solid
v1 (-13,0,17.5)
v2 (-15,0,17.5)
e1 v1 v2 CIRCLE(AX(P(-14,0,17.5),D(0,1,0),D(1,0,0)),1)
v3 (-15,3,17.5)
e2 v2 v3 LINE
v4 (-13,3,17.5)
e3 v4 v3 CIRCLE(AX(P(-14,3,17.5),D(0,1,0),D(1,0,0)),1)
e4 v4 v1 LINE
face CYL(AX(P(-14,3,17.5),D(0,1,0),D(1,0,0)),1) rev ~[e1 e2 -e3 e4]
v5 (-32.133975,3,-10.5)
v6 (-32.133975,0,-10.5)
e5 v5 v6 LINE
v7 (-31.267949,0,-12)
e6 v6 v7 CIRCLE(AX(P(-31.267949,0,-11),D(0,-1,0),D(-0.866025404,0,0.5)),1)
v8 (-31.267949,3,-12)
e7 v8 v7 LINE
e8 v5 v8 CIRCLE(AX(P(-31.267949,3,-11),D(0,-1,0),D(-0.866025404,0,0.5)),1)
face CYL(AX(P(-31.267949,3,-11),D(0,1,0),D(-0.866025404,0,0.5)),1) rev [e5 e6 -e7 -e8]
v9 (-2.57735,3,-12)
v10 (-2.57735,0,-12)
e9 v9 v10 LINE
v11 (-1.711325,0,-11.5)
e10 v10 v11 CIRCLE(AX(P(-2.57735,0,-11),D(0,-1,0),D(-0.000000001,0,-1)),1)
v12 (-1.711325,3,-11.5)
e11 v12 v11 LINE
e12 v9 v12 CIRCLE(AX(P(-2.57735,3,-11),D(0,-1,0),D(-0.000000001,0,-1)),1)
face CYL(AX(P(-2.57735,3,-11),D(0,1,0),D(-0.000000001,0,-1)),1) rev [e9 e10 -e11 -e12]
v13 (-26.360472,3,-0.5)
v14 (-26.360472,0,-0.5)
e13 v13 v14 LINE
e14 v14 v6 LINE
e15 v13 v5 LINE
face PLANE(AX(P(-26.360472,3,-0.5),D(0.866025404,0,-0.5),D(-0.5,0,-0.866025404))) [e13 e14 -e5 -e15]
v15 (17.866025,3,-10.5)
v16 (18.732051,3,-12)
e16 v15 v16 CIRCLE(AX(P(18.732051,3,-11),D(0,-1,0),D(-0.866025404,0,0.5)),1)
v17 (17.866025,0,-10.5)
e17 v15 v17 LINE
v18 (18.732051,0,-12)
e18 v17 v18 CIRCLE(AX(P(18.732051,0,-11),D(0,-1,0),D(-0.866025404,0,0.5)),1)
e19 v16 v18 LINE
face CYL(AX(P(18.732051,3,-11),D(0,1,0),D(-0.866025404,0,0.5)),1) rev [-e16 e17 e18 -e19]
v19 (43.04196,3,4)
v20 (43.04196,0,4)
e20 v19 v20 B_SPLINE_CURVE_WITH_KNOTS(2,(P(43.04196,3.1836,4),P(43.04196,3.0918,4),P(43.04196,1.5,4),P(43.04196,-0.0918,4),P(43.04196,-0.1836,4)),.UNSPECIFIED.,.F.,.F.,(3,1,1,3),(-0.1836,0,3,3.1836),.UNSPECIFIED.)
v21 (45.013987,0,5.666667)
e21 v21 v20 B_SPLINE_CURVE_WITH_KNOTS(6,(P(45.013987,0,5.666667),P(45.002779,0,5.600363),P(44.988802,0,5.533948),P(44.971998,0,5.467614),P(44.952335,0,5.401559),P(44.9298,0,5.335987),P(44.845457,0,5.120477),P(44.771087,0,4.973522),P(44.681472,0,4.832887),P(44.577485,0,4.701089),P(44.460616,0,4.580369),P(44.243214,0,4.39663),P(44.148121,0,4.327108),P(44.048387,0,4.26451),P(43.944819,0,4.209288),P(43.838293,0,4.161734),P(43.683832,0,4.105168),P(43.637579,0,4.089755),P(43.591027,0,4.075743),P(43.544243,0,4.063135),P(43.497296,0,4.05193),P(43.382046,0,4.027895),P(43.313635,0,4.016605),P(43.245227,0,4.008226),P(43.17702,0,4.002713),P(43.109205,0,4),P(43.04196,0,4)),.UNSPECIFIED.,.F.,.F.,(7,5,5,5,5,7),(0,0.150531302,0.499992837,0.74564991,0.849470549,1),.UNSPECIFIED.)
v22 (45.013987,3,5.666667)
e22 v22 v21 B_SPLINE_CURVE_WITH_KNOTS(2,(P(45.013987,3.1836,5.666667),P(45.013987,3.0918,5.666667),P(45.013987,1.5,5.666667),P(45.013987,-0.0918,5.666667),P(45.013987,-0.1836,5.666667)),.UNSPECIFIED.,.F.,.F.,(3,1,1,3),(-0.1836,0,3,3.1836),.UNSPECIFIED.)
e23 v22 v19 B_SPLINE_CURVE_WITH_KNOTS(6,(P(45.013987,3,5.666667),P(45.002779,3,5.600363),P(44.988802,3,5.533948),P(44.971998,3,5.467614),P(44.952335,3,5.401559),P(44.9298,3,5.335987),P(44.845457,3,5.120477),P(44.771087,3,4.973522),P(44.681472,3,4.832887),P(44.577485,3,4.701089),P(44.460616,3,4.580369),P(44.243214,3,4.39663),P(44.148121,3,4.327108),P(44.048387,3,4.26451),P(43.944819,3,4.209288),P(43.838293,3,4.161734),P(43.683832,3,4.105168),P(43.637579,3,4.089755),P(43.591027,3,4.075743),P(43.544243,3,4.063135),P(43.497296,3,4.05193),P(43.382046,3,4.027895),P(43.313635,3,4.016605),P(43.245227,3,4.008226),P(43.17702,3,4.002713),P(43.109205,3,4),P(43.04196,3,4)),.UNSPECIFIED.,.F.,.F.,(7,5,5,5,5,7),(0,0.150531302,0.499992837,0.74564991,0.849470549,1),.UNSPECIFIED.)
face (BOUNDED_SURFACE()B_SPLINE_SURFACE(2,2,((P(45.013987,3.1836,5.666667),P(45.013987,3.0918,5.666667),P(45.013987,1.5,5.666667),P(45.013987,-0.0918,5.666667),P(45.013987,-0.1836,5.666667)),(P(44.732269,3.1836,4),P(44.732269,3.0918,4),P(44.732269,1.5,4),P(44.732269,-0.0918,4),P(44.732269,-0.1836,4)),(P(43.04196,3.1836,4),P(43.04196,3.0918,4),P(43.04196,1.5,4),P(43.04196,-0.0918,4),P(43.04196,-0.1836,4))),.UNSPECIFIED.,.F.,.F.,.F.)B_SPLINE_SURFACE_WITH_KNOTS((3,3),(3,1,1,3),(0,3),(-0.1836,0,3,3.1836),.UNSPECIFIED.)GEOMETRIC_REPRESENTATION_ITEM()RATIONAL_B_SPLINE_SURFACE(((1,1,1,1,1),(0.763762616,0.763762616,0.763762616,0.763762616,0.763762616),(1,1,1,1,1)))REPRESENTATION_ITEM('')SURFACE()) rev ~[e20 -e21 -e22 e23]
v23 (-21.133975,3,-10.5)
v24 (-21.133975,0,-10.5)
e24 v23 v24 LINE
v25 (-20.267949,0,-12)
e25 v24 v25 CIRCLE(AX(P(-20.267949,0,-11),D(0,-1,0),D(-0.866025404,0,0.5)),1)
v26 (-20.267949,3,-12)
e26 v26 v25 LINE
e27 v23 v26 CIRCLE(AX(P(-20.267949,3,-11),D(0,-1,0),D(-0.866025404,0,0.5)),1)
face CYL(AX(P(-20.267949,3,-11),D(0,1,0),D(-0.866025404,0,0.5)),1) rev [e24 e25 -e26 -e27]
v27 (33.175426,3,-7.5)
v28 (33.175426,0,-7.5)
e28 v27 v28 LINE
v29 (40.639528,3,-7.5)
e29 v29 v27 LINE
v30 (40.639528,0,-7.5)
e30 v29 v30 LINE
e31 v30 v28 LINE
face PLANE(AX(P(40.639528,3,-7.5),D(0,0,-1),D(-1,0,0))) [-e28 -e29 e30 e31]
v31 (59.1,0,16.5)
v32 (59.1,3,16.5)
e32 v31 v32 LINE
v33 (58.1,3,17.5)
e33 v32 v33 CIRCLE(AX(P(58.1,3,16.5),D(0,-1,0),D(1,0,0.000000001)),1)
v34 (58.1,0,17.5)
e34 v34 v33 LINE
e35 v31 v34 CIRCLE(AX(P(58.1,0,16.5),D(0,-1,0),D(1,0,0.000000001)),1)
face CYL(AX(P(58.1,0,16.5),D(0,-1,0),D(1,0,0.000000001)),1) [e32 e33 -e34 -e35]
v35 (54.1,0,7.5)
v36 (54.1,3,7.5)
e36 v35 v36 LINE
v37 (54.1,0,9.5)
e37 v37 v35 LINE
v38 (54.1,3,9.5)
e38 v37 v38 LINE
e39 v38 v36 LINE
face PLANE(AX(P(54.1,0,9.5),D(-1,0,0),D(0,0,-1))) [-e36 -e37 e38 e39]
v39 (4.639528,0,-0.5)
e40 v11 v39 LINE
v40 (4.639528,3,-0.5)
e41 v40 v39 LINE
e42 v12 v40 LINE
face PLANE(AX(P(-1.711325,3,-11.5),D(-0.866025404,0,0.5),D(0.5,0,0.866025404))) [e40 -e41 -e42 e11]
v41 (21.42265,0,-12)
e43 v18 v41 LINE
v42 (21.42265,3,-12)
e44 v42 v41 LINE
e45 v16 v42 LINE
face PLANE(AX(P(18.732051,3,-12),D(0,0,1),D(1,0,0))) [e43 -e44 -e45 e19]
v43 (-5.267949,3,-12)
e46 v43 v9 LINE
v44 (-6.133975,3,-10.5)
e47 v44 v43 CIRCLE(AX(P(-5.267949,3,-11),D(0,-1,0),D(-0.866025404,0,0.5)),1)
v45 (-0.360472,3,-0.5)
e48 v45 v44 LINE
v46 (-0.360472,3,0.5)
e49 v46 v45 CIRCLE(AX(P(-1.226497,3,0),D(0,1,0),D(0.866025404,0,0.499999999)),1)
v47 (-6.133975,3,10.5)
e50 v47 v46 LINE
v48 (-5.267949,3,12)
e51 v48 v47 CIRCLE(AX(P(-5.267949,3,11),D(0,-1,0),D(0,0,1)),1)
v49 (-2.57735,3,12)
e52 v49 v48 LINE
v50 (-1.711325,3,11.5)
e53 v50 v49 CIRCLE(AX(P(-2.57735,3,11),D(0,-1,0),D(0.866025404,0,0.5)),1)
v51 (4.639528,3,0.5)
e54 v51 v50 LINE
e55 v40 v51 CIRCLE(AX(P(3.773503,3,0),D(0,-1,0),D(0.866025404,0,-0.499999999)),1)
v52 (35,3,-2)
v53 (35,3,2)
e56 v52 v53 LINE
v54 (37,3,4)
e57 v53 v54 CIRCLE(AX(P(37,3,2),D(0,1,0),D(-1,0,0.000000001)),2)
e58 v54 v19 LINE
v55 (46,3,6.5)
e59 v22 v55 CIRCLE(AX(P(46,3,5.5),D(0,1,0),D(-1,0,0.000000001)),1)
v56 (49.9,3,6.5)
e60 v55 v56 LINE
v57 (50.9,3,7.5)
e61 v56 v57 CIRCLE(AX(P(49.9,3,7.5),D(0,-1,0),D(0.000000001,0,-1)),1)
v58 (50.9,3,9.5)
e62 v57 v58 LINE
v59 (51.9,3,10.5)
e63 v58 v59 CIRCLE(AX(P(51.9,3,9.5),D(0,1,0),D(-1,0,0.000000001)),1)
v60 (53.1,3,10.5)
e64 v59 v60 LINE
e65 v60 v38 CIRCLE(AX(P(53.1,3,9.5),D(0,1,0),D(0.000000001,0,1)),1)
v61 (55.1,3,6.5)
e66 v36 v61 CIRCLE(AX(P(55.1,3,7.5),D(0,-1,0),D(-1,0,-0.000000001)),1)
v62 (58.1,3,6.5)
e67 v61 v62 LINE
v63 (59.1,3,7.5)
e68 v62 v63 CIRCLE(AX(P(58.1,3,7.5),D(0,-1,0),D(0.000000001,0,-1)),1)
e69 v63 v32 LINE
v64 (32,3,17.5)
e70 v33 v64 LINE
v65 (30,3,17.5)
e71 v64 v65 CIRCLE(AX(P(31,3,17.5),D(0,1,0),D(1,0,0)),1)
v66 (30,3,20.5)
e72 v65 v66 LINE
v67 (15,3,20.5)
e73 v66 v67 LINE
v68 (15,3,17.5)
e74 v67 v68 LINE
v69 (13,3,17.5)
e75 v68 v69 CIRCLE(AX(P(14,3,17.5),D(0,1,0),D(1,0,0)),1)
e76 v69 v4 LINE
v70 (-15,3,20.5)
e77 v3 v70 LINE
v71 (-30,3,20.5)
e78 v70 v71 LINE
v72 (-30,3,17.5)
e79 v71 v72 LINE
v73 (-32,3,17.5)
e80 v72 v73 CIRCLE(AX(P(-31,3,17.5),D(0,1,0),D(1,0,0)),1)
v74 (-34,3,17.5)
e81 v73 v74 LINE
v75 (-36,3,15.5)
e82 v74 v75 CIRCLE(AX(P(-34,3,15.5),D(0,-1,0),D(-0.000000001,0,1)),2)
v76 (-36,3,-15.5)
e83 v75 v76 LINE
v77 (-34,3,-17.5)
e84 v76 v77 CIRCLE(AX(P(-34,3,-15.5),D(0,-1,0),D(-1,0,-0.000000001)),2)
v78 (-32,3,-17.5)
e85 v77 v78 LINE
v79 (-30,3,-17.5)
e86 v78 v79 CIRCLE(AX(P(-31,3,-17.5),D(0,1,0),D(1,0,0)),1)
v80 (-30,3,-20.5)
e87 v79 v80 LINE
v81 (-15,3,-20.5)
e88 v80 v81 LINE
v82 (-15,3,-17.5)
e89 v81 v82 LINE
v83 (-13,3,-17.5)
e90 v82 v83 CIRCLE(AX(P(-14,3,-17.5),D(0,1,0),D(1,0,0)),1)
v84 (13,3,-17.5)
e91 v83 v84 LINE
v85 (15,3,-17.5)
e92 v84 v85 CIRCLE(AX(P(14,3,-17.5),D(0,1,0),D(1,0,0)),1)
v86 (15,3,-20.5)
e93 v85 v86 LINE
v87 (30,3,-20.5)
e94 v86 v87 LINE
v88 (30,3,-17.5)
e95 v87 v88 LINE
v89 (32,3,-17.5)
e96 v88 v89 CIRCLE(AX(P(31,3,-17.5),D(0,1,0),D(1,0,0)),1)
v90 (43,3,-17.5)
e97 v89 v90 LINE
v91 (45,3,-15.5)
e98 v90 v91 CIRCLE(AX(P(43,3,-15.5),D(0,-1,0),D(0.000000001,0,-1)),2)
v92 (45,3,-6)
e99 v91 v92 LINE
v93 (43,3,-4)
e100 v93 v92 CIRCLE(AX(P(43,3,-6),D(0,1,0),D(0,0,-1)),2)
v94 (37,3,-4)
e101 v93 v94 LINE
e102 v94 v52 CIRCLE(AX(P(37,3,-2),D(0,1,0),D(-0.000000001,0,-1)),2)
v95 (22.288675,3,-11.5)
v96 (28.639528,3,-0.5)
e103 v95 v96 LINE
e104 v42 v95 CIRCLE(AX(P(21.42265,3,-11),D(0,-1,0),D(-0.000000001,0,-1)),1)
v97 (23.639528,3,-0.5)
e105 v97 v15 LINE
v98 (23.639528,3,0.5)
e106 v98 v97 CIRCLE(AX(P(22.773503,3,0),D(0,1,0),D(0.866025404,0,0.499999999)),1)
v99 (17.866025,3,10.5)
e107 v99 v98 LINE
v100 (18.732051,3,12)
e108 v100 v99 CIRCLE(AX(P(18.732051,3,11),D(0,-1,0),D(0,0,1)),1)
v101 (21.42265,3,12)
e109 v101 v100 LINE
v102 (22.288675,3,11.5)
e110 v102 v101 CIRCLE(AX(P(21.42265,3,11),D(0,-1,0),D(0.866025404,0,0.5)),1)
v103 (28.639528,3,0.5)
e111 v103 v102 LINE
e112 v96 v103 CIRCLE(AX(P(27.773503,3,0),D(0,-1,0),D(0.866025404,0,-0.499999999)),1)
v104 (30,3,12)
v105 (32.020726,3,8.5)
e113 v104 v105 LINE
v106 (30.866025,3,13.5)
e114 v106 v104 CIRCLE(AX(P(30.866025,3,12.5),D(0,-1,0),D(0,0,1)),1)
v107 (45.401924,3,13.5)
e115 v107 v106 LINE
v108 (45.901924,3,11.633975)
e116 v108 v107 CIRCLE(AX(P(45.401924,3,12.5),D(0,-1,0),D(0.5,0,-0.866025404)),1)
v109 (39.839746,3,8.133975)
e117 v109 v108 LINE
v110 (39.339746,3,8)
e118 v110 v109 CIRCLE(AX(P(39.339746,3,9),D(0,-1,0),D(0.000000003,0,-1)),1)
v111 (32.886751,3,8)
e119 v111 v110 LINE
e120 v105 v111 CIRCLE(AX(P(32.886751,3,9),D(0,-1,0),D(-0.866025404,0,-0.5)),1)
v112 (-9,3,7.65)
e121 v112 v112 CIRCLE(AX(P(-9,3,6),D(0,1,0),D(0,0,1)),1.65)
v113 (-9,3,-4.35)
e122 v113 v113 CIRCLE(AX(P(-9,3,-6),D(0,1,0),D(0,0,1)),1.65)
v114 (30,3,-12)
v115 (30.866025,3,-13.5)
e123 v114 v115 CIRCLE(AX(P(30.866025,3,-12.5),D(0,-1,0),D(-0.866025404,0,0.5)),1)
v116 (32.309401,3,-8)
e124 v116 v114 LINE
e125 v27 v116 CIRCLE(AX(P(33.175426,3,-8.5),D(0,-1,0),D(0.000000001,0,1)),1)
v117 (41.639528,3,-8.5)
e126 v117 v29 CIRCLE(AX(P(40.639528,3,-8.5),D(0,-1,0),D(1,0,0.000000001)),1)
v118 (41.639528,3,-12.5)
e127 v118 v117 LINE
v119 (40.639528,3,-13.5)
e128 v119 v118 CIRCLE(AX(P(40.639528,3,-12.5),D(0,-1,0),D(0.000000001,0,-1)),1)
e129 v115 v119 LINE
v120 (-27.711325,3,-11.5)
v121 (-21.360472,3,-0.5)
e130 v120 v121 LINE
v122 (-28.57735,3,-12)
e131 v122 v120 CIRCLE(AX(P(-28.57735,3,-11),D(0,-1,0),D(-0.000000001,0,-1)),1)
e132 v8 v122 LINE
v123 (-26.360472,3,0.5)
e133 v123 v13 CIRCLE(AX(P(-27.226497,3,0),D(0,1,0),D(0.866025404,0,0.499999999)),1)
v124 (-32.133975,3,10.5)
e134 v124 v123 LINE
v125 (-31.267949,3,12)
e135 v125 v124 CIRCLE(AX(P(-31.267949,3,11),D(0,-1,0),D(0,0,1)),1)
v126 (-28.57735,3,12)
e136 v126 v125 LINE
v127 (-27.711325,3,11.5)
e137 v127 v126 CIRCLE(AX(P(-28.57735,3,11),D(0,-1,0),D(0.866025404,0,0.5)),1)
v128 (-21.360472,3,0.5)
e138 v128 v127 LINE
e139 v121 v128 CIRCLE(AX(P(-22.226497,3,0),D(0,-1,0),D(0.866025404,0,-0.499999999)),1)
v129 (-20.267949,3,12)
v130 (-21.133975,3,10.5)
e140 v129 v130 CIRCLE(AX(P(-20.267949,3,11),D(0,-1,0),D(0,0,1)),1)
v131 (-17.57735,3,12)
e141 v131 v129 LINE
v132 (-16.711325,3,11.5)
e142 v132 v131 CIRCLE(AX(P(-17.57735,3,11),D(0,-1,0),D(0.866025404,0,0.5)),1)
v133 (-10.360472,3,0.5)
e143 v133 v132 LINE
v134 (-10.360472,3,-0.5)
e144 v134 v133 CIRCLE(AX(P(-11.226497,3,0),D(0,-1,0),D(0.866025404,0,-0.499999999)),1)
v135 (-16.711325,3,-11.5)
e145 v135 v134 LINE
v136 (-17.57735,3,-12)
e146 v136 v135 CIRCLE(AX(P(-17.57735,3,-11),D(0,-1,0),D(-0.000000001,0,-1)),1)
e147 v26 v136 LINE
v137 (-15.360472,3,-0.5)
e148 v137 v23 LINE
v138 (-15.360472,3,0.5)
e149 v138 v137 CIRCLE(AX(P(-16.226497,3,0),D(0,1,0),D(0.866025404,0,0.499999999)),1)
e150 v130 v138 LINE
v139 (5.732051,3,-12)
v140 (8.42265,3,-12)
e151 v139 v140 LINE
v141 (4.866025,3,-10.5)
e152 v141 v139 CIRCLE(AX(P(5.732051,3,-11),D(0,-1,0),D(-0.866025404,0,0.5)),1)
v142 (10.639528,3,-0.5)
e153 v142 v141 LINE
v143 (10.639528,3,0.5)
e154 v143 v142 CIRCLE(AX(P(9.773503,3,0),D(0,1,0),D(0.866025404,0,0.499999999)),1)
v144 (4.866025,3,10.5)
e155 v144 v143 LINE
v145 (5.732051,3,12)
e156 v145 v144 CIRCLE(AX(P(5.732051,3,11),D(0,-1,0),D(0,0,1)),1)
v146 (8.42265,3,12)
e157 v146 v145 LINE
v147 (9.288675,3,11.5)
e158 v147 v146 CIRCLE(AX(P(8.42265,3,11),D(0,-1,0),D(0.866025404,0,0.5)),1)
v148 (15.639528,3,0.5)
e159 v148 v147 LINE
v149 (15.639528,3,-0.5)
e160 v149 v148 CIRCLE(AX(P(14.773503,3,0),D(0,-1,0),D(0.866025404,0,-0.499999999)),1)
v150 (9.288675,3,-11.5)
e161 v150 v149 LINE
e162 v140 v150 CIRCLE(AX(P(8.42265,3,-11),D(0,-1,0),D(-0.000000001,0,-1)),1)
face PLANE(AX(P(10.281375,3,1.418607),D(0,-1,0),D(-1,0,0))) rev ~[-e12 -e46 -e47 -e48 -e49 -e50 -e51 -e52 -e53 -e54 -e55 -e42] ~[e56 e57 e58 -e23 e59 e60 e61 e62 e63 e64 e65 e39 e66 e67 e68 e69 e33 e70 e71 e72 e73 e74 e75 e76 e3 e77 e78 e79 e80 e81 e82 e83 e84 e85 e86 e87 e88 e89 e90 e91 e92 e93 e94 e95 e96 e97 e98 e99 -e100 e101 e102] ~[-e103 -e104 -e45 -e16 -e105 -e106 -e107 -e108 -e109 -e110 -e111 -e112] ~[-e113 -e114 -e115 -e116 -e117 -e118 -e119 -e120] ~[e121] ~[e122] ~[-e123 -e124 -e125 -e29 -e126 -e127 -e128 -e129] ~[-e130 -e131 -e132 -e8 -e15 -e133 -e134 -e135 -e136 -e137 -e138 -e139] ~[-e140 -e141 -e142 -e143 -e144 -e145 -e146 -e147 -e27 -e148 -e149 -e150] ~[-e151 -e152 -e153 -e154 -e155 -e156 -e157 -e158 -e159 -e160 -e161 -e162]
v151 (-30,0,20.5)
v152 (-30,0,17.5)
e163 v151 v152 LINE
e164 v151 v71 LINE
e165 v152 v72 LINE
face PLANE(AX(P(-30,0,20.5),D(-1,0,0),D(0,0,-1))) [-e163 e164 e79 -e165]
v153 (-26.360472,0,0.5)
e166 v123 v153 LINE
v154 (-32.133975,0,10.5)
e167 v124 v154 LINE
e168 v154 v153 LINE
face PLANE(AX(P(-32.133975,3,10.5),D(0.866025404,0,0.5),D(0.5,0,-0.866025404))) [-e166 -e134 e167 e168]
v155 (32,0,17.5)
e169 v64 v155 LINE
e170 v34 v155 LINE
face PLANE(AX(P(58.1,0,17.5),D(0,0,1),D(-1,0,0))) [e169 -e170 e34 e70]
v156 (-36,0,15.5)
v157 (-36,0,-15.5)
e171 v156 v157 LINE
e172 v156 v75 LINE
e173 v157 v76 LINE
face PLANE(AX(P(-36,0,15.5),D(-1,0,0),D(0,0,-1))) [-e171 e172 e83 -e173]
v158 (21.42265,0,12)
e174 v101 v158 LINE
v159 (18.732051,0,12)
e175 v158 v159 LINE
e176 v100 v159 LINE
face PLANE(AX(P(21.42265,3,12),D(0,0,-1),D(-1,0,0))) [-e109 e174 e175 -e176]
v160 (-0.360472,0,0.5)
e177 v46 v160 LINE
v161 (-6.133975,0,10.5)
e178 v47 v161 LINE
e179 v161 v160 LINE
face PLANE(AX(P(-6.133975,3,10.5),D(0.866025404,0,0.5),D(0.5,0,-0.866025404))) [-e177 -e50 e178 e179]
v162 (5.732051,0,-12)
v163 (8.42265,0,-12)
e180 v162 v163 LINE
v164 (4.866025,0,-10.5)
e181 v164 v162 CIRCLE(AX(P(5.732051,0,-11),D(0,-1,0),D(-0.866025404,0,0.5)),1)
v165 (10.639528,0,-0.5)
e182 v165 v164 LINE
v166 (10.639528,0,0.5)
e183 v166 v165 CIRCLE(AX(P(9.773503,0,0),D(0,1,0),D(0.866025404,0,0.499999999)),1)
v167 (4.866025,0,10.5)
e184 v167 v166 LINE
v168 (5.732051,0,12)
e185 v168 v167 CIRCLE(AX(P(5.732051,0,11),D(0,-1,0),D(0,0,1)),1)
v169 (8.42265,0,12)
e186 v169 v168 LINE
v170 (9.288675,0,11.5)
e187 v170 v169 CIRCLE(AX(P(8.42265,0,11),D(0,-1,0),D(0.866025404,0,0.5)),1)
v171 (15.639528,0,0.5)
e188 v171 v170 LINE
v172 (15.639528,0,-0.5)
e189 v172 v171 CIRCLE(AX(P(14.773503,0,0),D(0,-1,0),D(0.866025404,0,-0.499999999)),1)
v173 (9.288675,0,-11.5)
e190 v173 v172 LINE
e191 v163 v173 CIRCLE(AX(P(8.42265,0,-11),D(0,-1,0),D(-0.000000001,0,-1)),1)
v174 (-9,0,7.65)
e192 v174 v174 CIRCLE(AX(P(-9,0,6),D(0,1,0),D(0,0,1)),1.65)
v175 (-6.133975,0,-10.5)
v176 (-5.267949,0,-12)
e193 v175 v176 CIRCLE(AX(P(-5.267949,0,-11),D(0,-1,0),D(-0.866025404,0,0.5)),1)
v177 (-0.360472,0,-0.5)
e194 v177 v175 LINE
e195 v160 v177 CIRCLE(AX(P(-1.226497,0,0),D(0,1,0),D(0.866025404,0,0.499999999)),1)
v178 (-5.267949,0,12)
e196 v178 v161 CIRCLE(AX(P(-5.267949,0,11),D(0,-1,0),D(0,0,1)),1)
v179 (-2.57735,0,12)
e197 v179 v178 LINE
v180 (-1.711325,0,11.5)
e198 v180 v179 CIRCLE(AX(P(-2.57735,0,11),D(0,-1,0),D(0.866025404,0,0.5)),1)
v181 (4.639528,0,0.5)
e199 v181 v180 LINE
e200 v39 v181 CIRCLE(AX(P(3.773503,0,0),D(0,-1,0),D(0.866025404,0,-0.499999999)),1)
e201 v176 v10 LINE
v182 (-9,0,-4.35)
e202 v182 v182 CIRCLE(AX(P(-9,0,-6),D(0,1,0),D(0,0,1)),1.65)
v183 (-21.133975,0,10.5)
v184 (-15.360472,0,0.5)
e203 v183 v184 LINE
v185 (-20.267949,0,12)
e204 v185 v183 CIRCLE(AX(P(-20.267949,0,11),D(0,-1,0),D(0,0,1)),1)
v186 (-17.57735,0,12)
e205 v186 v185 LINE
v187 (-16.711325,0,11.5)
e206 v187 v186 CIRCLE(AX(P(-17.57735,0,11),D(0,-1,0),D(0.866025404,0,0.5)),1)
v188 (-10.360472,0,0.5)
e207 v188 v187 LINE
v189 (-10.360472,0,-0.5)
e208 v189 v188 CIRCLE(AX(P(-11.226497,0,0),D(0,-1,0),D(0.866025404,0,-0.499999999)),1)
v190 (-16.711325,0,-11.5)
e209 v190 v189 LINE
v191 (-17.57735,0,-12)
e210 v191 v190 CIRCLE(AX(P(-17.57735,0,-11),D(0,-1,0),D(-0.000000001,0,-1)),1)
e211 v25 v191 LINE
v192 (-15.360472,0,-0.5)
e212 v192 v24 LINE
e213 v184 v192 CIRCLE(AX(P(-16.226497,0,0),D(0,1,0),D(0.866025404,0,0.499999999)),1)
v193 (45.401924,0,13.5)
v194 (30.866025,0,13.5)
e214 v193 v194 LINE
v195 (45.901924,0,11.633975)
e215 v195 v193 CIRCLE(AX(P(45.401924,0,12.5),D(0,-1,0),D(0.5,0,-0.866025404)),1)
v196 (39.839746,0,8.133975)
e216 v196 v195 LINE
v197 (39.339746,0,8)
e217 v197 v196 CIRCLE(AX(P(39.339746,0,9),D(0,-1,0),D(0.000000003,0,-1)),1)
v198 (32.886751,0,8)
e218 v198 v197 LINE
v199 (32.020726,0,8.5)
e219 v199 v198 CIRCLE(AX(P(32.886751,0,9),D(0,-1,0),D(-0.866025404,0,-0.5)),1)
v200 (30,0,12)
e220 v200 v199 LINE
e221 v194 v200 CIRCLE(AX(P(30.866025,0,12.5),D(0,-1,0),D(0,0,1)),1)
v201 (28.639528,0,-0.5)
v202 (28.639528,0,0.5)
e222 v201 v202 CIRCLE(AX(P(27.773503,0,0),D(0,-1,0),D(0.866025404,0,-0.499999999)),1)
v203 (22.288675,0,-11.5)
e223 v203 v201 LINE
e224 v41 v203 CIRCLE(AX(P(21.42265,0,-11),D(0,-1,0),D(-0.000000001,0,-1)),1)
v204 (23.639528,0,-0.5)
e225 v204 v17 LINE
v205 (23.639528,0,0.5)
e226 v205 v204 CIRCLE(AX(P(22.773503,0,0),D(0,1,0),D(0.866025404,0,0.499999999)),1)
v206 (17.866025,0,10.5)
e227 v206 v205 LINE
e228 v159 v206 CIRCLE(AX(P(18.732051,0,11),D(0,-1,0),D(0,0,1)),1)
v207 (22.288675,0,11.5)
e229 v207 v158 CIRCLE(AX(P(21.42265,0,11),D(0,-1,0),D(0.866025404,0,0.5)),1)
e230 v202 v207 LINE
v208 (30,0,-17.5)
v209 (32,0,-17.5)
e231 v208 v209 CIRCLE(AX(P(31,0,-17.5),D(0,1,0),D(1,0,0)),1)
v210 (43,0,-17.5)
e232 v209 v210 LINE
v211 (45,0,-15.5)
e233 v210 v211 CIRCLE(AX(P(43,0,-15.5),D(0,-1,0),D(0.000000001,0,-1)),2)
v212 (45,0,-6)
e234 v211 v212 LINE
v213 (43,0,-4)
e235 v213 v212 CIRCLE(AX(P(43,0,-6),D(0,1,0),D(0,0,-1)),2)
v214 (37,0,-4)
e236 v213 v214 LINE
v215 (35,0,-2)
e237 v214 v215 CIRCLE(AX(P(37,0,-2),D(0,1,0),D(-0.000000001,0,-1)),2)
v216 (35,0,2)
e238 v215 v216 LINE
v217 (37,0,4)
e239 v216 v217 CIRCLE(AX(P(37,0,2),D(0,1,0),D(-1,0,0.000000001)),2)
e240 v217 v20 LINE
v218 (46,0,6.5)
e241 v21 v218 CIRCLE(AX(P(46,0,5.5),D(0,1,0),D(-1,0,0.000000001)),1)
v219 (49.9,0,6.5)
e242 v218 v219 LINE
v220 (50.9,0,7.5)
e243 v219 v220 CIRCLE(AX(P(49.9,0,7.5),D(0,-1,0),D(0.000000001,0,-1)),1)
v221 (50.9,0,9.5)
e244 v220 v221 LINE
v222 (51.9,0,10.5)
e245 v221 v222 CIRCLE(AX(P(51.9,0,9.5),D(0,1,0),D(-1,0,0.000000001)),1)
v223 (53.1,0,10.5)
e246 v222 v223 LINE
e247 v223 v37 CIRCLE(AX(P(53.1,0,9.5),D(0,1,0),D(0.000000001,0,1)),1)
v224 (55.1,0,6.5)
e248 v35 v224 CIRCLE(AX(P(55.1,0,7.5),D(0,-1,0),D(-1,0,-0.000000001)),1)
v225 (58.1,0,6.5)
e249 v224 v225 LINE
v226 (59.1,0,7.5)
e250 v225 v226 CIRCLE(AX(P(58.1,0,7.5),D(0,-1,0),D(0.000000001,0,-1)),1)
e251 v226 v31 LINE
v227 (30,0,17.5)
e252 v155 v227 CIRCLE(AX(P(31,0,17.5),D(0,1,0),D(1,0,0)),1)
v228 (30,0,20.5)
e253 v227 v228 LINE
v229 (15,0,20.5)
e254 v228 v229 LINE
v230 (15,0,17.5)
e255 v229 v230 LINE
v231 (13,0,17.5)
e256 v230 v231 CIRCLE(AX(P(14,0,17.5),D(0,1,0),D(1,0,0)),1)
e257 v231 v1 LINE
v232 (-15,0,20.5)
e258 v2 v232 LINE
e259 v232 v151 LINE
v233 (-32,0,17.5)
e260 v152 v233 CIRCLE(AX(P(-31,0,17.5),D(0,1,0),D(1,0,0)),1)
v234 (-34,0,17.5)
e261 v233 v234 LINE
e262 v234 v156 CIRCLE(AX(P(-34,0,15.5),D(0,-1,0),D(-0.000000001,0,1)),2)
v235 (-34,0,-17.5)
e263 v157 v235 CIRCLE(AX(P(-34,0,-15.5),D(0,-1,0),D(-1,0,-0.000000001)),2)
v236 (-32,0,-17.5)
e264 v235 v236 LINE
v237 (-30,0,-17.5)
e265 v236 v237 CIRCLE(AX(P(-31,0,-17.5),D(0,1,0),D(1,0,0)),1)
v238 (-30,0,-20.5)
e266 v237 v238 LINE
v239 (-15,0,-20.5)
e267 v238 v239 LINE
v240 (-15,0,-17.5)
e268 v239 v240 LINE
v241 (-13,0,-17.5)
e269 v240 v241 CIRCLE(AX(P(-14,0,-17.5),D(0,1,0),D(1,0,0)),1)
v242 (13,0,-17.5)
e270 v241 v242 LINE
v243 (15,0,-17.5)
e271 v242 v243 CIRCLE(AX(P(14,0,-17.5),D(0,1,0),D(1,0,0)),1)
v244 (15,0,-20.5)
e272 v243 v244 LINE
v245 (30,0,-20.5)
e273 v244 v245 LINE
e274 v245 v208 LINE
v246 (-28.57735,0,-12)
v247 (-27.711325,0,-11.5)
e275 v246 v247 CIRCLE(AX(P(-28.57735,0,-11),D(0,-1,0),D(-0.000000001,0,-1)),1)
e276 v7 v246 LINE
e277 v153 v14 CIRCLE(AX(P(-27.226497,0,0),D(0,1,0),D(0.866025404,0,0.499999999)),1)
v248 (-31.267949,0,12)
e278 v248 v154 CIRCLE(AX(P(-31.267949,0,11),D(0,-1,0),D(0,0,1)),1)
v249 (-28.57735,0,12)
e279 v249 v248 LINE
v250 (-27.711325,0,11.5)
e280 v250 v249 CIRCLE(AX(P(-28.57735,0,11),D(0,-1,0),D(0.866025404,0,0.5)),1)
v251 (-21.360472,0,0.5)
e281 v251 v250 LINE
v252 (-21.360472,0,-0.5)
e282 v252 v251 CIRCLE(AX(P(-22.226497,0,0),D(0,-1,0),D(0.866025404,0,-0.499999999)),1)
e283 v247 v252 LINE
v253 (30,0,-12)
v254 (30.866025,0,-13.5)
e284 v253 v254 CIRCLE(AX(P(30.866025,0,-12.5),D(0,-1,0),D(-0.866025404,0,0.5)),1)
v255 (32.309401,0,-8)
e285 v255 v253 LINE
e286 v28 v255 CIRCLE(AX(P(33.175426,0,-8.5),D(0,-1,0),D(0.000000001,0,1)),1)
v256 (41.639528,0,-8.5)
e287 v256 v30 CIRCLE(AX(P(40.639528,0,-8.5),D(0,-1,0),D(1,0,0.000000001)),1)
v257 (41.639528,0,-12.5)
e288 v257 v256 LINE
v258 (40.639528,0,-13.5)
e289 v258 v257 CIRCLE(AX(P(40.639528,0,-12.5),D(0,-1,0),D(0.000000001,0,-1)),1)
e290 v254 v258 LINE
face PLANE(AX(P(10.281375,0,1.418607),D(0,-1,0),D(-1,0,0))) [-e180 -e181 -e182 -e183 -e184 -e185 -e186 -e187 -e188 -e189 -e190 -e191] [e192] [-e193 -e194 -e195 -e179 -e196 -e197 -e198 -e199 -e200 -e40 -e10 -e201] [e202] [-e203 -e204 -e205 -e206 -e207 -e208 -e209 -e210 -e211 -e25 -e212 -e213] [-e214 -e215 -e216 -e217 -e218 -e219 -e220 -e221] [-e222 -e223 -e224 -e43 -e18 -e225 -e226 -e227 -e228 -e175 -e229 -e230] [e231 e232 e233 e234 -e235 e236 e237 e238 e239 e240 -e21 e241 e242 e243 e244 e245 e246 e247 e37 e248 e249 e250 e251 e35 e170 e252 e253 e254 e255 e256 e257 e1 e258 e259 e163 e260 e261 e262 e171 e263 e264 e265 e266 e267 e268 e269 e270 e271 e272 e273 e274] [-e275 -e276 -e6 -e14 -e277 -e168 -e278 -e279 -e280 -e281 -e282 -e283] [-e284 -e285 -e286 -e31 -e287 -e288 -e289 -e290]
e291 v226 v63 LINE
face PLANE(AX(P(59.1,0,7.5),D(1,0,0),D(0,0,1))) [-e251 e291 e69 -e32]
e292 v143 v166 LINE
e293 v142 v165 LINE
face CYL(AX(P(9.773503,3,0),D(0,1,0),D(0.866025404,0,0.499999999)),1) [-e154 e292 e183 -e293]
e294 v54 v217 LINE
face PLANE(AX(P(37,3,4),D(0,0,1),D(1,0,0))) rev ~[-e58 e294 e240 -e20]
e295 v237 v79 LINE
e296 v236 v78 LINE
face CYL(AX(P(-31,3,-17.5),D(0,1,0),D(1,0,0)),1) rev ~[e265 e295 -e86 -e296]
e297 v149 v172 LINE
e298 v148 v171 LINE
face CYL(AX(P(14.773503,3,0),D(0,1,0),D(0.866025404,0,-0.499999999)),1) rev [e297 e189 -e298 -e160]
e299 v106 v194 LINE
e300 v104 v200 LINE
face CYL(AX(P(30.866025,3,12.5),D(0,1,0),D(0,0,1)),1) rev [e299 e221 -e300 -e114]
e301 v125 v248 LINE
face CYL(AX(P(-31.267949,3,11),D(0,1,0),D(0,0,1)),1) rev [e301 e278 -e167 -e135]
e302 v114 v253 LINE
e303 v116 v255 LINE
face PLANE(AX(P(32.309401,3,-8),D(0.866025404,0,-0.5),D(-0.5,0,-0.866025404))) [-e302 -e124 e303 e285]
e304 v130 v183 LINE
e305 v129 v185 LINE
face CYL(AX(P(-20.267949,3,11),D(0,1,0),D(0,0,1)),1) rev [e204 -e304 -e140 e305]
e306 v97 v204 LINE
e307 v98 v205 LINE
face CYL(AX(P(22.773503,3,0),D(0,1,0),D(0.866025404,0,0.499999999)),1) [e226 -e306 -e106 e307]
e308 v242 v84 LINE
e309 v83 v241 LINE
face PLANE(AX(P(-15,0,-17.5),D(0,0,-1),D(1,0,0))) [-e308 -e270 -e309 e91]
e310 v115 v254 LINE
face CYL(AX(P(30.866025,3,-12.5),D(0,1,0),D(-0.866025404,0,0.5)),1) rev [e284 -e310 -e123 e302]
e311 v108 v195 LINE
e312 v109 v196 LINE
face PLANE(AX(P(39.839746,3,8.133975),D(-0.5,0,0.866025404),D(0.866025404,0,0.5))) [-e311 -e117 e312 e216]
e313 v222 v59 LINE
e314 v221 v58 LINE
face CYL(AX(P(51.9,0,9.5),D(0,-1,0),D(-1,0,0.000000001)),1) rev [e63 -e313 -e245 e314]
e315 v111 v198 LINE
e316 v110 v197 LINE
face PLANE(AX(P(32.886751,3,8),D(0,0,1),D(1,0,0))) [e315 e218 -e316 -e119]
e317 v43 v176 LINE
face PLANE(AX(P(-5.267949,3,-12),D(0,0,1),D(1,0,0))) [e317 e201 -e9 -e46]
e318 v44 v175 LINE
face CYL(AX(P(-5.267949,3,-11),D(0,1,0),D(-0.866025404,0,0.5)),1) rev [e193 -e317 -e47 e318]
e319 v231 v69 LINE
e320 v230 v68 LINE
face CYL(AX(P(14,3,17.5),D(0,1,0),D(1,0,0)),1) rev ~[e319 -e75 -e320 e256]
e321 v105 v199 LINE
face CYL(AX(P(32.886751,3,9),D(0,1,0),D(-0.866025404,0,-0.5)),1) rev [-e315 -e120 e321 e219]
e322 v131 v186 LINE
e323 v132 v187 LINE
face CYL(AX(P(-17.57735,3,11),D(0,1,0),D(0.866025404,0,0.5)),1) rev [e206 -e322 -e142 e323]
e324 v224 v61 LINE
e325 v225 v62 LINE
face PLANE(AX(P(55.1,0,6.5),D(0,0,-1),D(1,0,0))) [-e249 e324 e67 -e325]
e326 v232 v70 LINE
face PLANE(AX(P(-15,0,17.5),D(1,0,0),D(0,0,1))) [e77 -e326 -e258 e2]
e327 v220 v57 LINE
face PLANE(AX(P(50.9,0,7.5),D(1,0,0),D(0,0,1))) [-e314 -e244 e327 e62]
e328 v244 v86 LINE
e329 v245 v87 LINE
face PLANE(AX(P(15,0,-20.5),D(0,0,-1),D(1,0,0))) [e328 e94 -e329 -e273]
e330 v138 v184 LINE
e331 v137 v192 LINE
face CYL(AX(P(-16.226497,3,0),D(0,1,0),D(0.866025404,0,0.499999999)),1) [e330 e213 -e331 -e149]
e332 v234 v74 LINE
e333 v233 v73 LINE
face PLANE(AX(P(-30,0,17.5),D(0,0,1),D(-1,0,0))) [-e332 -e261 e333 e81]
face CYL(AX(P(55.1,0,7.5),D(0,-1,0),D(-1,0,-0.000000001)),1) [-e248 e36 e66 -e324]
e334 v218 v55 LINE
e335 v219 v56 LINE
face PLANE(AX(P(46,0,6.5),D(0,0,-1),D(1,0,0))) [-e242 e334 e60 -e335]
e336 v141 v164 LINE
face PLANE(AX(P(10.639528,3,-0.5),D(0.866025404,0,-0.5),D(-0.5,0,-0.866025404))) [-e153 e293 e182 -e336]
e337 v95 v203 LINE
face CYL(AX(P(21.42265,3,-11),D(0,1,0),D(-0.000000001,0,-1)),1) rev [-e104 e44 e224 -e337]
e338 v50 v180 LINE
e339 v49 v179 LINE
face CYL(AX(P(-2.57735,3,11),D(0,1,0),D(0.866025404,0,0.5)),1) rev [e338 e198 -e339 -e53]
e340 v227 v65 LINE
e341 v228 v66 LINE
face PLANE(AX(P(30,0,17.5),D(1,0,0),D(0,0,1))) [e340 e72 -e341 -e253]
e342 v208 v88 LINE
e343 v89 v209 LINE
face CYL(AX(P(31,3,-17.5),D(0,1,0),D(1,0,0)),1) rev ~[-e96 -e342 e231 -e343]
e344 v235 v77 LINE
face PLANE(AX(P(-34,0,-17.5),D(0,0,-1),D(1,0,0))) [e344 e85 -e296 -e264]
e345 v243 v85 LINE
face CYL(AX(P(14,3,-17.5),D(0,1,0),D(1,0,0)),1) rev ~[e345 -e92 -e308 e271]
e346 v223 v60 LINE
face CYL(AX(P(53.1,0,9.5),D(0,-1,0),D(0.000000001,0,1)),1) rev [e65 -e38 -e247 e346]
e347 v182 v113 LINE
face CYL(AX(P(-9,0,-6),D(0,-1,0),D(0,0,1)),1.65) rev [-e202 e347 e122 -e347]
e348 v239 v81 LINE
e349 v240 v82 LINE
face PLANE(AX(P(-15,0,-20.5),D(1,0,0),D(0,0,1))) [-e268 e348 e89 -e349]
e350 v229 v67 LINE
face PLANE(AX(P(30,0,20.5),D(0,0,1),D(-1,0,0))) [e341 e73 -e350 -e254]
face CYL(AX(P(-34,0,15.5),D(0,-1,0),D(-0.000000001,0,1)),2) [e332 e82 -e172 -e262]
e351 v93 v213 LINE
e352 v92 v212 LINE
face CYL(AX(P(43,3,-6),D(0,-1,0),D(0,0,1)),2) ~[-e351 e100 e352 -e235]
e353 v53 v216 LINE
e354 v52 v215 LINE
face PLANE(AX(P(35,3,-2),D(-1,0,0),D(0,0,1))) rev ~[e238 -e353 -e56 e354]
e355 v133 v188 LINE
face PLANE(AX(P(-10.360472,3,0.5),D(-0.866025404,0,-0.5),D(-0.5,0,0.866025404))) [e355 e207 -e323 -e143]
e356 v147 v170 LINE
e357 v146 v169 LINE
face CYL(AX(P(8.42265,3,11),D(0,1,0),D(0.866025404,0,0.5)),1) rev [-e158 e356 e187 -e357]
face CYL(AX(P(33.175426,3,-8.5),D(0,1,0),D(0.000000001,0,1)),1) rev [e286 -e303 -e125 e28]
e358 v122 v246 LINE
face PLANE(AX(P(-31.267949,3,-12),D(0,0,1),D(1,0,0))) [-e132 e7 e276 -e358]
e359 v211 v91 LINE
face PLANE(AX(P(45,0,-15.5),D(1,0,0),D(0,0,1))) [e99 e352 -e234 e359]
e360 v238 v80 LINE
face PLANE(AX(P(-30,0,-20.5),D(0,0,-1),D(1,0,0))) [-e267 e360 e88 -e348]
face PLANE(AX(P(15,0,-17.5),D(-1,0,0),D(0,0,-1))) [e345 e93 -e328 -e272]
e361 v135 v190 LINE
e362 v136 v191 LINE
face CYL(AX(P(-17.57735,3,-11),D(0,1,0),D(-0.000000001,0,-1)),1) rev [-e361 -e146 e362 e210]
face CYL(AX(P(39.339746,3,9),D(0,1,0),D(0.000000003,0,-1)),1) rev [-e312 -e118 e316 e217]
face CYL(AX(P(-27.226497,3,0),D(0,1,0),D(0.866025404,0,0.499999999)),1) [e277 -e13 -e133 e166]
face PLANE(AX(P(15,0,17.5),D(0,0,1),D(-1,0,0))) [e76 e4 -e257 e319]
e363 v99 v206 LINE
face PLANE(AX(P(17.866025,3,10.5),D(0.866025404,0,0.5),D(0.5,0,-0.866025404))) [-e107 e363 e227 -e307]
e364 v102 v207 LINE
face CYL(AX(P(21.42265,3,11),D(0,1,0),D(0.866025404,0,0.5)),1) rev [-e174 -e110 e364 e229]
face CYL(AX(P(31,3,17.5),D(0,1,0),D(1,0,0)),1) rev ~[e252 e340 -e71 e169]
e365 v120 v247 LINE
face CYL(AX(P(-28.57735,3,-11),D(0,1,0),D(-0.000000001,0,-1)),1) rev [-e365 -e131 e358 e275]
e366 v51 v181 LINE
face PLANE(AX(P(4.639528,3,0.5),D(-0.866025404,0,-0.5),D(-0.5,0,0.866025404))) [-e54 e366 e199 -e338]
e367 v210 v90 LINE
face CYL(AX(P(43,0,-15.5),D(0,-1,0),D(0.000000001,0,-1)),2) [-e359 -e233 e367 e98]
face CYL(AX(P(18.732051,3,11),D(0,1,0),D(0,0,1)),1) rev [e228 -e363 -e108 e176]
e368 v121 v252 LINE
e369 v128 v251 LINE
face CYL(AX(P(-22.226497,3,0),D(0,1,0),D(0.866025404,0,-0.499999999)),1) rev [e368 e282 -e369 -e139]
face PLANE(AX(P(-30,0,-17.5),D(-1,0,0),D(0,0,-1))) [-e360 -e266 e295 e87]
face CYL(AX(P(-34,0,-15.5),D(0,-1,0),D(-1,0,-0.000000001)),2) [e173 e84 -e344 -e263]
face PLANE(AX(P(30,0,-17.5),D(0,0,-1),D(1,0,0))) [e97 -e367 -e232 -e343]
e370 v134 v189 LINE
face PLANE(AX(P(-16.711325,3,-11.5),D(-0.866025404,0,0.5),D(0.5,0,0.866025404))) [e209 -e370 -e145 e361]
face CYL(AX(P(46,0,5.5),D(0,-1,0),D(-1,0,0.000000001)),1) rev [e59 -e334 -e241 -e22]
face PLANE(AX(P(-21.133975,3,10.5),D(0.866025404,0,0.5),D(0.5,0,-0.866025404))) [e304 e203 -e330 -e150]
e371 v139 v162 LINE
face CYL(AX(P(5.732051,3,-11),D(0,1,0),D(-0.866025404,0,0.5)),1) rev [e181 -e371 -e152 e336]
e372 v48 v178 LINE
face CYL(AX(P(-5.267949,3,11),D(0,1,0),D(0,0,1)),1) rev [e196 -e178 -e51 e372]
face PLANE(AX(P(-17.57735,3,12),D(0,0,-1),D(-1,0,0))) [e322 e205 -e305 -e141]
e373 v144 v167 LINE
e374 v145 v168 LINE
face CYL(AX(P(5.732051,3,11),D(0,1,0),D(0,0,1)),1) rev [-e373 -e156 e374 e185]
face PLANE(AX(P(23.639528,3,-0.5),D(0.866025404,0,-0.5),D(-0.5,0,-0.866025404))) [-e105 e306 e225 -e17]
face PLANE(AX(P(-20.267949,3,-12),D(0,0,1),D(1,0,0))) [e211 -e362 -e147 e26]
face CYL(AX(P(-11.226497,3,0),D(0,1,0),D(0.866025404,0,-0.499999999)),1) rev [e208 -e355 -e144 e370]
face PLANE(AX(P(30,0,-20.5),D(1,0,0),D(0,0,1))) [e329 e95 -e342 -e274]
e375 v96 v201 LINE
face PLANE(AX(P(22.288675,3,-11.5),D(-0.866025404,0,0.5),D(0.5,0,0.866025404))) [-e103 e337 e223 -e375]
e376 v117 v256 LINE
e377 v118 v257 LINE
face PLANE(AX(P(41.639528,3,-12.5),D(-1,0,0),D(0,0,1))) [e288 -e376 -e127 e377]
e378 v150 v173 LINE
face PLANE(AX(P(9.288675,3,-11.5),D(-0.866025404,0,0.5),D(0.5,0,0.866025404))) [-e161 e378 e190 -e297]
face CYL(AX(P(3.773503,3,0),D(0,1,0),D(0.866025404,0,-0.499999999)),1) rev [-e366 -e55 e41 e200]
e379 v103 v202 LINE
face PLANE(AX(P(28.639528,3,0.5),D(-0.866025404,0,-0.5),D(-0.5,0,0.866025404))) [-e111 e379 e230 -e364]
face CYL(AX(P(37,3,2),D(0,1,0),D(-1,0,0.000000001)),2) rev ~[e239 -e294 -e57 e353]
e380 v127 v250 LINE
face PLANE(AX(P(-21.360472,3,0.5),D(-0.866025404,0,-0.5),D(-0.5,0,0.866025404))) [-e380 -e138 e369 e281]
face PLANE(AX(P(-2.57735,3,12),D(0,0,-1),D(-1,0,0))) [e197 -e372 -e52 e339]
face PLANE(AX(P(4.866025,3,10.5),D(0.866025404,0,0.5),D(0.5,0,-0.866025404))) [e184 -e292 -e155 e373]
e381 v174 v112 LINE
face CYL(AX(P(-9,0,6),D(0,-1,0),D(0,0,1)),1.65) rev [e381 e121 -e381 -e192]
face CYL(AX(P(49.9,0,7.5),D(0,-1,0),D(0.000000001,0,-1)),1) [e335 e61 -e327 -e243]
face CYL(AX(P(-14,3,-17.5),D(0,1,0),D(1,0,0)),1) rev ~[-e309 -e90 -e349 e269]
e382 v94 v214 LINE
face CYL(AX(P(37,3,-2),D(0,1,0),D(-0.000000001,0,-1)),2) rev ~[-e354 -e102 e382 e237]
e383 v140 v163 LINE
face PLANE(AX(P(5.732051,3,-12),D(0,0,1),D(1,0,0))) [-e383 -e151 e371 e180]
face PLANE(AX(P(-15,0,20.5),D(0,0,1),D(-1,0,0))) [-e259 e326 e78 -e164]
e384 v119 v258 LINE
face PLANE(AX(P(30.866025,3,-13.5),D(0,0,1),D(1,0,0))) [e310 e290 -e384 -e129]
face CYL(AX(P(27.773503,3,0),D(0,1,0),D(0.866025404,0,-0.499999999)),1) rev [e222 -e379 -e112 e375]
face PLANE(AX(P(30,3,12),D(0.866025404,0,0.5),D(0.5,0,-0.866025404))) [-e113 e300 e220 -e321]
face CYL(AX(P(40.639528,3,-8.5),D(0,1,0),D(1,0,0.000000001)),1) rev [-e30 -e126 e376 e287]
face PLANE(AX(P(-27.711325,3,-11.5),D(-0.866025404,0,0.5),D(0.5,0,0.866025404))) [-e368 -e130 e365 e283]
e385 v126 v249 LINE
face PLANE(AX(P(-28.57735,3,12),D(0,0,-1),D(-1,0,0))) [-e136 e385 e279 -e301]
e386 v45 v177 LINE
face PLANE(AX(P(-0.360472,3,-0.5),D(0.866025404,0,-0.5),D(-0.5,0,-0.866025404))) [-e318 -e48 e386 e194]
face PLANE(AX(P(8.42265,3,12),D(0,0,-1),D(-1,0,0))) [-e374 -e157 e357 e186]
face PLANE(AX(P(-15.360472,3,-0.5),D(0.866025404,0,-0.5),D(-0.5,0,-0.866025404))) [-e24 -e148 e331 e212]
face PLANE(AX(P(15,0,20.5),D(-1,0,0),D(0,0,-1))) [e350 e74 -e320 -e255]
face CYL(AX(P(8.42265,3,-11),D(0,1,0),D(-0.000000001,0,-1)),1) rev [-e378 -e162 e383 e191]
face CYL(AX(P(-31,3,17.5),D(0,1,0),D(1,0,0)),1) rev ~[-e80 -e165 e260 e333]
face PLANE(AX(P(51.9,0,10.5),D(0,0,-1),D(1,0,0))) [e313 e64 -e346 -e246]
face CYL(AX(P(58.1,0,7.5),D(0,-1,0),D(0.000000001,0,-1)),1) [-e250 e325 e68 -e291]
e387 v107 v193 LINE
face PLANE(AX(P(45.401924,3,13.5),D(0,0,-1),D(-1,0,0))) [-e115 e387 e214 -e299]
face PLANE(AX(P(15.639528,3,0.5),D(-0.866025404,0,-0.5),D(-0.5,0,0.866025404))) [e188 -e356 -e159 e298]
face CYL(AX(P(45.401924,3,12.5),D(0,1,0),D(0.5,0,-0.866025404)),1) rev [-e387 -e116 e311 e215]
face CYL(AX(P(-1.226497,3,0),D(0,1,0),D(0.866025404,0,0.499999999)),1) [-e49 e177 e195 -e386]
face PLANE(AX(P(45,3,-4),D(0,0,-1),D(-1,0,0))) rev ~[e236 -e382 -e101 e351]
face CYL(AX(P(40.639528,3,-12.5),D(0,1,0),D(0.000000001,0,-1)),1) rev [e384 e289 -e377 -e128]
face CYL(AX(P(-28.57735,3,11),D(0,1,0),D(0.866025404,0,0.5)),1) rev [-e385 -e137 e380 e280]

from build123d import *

# Parameters (mm, degrees)
SKETCH_1_R          = 1.65
EXTRUDE_1_DEPTH     = 3
CUT_EXTRUDE_1_DEPTH = 3
FILLET_1_R          = 2
SKETCH_3_R          = 1
CUT_EXTRUDE_2_DEPTH = 3
CUT_EXTRUDE_3_DEPTH = 3


with BuildPart() as part:
    # 草图1 → 凸台-拉伸1 (new body)
    with BuildSketch(Plane(origin=(0, 0, 0), x_dir=(1, 0, 0), z_dir=(0, 1, 0))):
        with BuildLine():
            Line((-30, 20.5), (-15, 20.5))
            Line((-15, 20.5), (-15, 17.5))
            Line((-15, 17.5), (15, 17.5))
            Line((15, 17.5), (15, 20.5))
            Line((15, 20.5), (30, 20.5))
            Line((30, 20.5), (30, 17.5))
            Line((30, 17.5), (43, 17.5))
            ThreePointArc((43, 17.5), (44.414213562, 16.914213562), (45, 15.5))
            Line((45, 15.5), (45, -5.5))
            ThreePointArc((45, -5.5), (45.292893219, -6.207106781), (46, -6.5))
            Line((46, -6.5), (49.9, -6.5))
            ThreePointArc((49.9, -6.5), (50.607106781, -6.792893219), (50.9, -7.5))
            Line((50.9, -7.5), (50.9, -9.5))
            ThreePointArc((50.9, -9.5), (51.192893219, -10.207106781), (51.9, -10.5))
            Line((51.9, -10.5), (53.1, -10.5))
            ThreePointArc((53.1, -10.5), (53.807106781, -10.207106781), (54.1, -9.5))
            Line((54.1, -9.5), (54.1, -7.5))
            ThreePointArc((54.1, -7.5), (54.392893219, -6.792893219), (55.1, -6.5))
            Line((55.1, -6.5), (58.1, -6.5))
            ThreePointArc((58.1, -6.5), (58.807106781, -6.792893219), (59.1, -7.5))
            Line((59.1, -7.5), (59.1, -16.5))
            ThreePointArc((59.1, -16.5), (58.807106781, -17.207106781), (58.1, -17.5))
            Line((58.1, -17.5), (30, -17.5))
            Line((30, -17.5), (30, -20.5))
            Line((30, -20.5), (15, -20.5))
            Line((15, -20.5), (15, -17.5))
            Line((15, -17.5), (-15, -17.5))
            Line((-15, -17.5), (-15, -20.5))
            Line((-15, -20.5), (-30, -20.5))
            Line((-30, -20.5), (-30, -17.5))
            Line((-30, -17.5), (-34, -17.5))
            ThreePointArc((-34, -17.5), (-35.414213562, -16.914213562), (-36, -15.5))
            Line((-36, -15.5), (-36, 15.5))
            ThreePointArc((-36, 15.5), (-35.414213562, 16.914213562), (-34, 17.5))
            Line((-34, 17.5), (-30, 17.5))
            Line((-30, 17.5), (-30, 20.5))
        make_face()
        with Locations(Location((-9, 6, 0), (0, 0, 270))):
            Circle(SKETCH_1_R, mode=Mode.SUBTRACT)
        with Locations(Location((-9, -6, 0), (0, 0, 270))):
            Circle(SKETCH_1_R, mode=Mode.SUBTRACT)
    extrude(amount=EXTRUDE_1_DEPTH)

    # 草图2 → 切除-拉伸1 (cut)
    with BuildSketch(Plane(origin=(0, 3, 0), x_dir=(1, 0, 0), z_dir=(0, 1, 0))):
        with BuildLine():
            Line((37, -4), (45, -4))
            Line((45, -4), (45, 4))
            Line((45, 4), (37, 4))
            ThreePointArc((37, 4), (35.585786438, 3.414213562), (35, 2))
            Line((35, 2), (35, -2))
            ThreePointArc((35, -2), (35.585786438, -3.414213562), (37, -4))
        make_face()
    extrude(amount=-CUT_EXTRUDE_1_DEPTH, mode=Mode.SUBTRACT)

    # 圆角1
    fillet_1_edges = [part.edges().sort_by_distance(p)[0] for p in [
        (45, 1.5, 4),
        (45, 1.5, -4),
    ]]
    fillet(fillet_1_edges, radius=FILLET_1_R)

    # 草图3 → 切除-拉伸2 (cut)
    with BuildSketch(Plane(origin=(0, 3, 0), x_dir=(1, 0, 0), z_dir=(0, 1, 0))):
        with Locations((-31, 17.5)):
            Circle(SKETCH_3_R)
        with Locations((-14, 17.5)):
            Circle(SKETCH_3_R)
        with Locations((14, 17.5)):
            Circle(SKETCH_3_R)
        with Locations((31, 17.5)):
            Circle(SKETCH_3_R)
        with Locations((-31, -17.5)):
            Circle(SKETCH_3_R)
        with Locations((-14, -17.5)):
            Circle(SKETCH_3_R)
        with Locations((14, -17.5)):
            Circle(SKETCH_3_R)
        with Locations((31, -17.5)):
            Circle(SKETCH_3_R)
    extrude(amount=-CUT_EXTRUDE_2_DEPTH, mode=Mode.SUBTRACT)

    # 草图4 → 切除-拉伸3 (cut)
    with BuildSketch(Plane(origin=(0, 3, 0), x_dir=(1, 0, 0), z_dir=(0, 1, 0))):
        with BuildLine():
            Line((-15.360471904, 0.5), (-21.133974596, 10.5))
            ThreePointArc((-21.133974596, 10.5), (-21.133974596, 11.5), (-20.267949192, 12))
            Line((-20.267949192, 12), (-17.577350269, 12))
            ThreePointArc((-17.577350269, 12), (-17.077350269, 11.866025404), (-16.711324865, 11.5))
            Line((-16.711324865, 11.5), (-10.360471904, 0.5))
            ThreePointArc((-10.360471904, 0.5), (-10.226497308, 0), (-10.360471904, -0.5))
            Line((-10.360471904, -0.5), (-16.711324865, -11.5))
            ThreePointArc((-16.711324865, -11.5), (-17.077350269, -11.866025404), (-17.577350269, -12))
            Line((-17.577350269, -12), (-20.267949192, -12))
            ThreePointArc((-20.267949192, -12), (-21.133974596, -11.5), (-21.133974596, -10.5))
            Line((-21.133974596, -10.5), (-15.360471904, -0.5))
            ThreePointArc((-15.360471904, -0.5), (-15.226497308, 0), (-15.360471904, 0.5))
        make_face()
        with BuildLine():
            Line((-31.267949192, 12), (-28.577350269, 12))
            ThreePointArc((-28.577350269, 12), (-28.077350269, 11.866025404), (-27.711324865, 11.5))
            Line((-27.711324865, 11.5), (-21.360471904, 0.5))
            ThreePointArc((-21.360471904, 0.5), (-21.226497308, 0), (-21.360471904, -0.5))
            Line((-21.360471904, -0.5), (-27.711324865, -11.5))
            ThreePointArc((-27.711324865, -11.5), (-28.077350269, -11.866025404), (-28.577350269, -12))
            Line((-28.577350269, -12), (-31.267949192, -12))
            ThreePointArc((-31.267949192, -12), (-32.133974596, -11.5), (-32.133974596, -10.5))
            Line((-32.133974596, -10.5), (-26.360471904, -0.5))
            ThreePointArc((-26.360471904, -0.5), (-26.226497308, 0), (-26.360471904, 0.5))
            Line((-26.360471904, 0.5), (-32.133974596, 10.5))
            ThreePointArc((-32.133974596, 10.5), (-32.133974596, 11.5), (-31.267949192, 12))
        make_face()
        with BuildLine():
            Line((10.639528096, 0.5), (4.866025404, 10.5))
            ThreePointArc((4.866025404, 10.5), (4.866025404, 11.5), (5.732050808, 12))
            Line((5.732050808, 12), (8.422649731, 12))
            ThreePointArc((8.422649731, 12), (8.922649731, 11.866025404), (9.288675135, 11.5))
            Line((9.288675135, 11.5), (15.639528096, 0.5))
            ThreePointArc((15.639528096, 0.5), (15.773502692, 0), (15.639528096, -0.5))
            Line((15.639528096, -0.5), (9.288675135, -11.5))
            ThreePointArc((9.288675135, -11.5), (8.922649731, -11.866025404), (8.422649731, -12))
            Line((8.422649731, -12), (5.732050808, -12))
            ThreePointArc((5.732050808, -12), (4.866025404, -11.5), (4.866025404, -10.5))
            Line((4.866025404, -10.5), (10.639528096, -0.5))
            ThreePointArc((10.639528096, -0.5), (10.773502692, 0), (10.639528096, 0.5))
        make_face()
        with BuildLine():
            Line((-0.360471904, 0.5), (-6.133974596, 10.5))
            ThreePointArc((-6.133974596, 10.5), (-6.133974596, 11.5), (-5.267949192, 12))
            Line((-5.267949192, 12), (-2.577350269, 12))
            ThreePointArc((-2.577350269, 12), (-2.077350269, 11.866025404), (-1.711324865, 11.5))
            Line((-1.711324865, 11.5), (4.639528096, 0.5))
            ThreePointArc((4.639528096, 0.5), (4.773502692, 0), (4.639528096, -0.5))
            Line((4.639528096, -0.5), (-1.711324865, -11.5))
            ThreePointArc((-1.711324865, -11.5), (-2.077350269, -11.866025404), (-2.577350269, -12))
            Line((-2.577350269, -12), (-5.267949192, -12))
            ThreePointArc((-5.267949192, -12), (-6.133974596, -11.5), (-6.133974596, -10.5))
            Line((-6.133974596, -10.5), (-0.360471904, -0.5))
            ThreePointArc((-0.360471904, -0.5), (-0.226497308, 0), (-0.360471904, 0.5))
        make_face()
        with BuildLine():
            Line((23.639528096, 0.5), (17.866025404, 10.5))
            ThreePointArc((17.866025404, 10.5), (17.866025404, 11.5), (18.732050808, 12))
            Line((18.732050808, 12), (21.422649731, 12))
            ThreePointArc((21.422649731, 12), (21.922649731, 11.866025404), (22.288675135, 11.5))
            Line((22.288675135, 11.5), (28.639528096, 0.5))
            ThreePointArc((28.639528096, 0.5), (28.773502692, 0), (28.639528096, -0.5))
            Line((28.639528096, -0.5), (22.288675135, -11.5))
            ThreePointArc((22.288675135, -11.5), (21.922649731, -11.866025404), (21.422649731, -12))
            Line((21.422649731, -12), (18.732050808, -12))
            ThreePointArc((18.732050808, -12), (17.866025404, -11.5), (17.866025404, -10.5))
            Line((17.866025404, -10.5), (23.639528096, -0.5))
            ThreePointArc((23.639528096, -0.5), (23.773502692, 0), (23.639528096, 0.5))
        make_face()
        with BuildLine():
            Line((30.866025404, 13.5), (40.639528096, 13.5))
            ThreePointArc((40.639528096, 13.5), (41.346634877, 13.207106781), (41.639528096, 12.5))
            Line((41.639528096, 12.5), (41.639528096, 8.5))
            ThreePointArc((41.639528096, 8.5), (41.346634877, 7.792893219), (40.639528096, 7.5))
            Line((40.639528096, 7.5), (33.175426481, 7.5))
            ThreePointArc((33.175426481, 7.5), (32.675426481, 7.633974596), (32.309401077, 8))
            Line((32.309401077, 8), (30, 12))
            ThreePointArc((30, 12), (30, 13), (30.866025404, 13.5))
        make_face()
        with BuildLine():
            Line((32.886751346, -8), (39.339745962, -8))
            ThreePointArc((39.339745962, -8), (39.598565007, -8.034074174), (39.839745962, -8.133974596))
            Line((39.839745962, -8.133974596), (45.901923789, -11.633974596))
            ThreePointArc((45.901923789, -11.633974596), (46.367849615, -12.758819045), (45.401923789, -13.5))
            Line((45.401923789, -13.5), (30.866025404, -13.5))
            ThreePointArc((30.866025404, -13.5), (30, -13), (30, -12))
            Line((30, -12), (32.020725942, -8.5))
            ThreePointArc((32.020725942, -8.5), (32.386751346, -8.133974596), (32.886751346, -8))
        make_face()
    extrude(amount=-CUT_EXTRUDE_3_DEPTH, mode=Mode.SUBTRACT)


solid = part.part
